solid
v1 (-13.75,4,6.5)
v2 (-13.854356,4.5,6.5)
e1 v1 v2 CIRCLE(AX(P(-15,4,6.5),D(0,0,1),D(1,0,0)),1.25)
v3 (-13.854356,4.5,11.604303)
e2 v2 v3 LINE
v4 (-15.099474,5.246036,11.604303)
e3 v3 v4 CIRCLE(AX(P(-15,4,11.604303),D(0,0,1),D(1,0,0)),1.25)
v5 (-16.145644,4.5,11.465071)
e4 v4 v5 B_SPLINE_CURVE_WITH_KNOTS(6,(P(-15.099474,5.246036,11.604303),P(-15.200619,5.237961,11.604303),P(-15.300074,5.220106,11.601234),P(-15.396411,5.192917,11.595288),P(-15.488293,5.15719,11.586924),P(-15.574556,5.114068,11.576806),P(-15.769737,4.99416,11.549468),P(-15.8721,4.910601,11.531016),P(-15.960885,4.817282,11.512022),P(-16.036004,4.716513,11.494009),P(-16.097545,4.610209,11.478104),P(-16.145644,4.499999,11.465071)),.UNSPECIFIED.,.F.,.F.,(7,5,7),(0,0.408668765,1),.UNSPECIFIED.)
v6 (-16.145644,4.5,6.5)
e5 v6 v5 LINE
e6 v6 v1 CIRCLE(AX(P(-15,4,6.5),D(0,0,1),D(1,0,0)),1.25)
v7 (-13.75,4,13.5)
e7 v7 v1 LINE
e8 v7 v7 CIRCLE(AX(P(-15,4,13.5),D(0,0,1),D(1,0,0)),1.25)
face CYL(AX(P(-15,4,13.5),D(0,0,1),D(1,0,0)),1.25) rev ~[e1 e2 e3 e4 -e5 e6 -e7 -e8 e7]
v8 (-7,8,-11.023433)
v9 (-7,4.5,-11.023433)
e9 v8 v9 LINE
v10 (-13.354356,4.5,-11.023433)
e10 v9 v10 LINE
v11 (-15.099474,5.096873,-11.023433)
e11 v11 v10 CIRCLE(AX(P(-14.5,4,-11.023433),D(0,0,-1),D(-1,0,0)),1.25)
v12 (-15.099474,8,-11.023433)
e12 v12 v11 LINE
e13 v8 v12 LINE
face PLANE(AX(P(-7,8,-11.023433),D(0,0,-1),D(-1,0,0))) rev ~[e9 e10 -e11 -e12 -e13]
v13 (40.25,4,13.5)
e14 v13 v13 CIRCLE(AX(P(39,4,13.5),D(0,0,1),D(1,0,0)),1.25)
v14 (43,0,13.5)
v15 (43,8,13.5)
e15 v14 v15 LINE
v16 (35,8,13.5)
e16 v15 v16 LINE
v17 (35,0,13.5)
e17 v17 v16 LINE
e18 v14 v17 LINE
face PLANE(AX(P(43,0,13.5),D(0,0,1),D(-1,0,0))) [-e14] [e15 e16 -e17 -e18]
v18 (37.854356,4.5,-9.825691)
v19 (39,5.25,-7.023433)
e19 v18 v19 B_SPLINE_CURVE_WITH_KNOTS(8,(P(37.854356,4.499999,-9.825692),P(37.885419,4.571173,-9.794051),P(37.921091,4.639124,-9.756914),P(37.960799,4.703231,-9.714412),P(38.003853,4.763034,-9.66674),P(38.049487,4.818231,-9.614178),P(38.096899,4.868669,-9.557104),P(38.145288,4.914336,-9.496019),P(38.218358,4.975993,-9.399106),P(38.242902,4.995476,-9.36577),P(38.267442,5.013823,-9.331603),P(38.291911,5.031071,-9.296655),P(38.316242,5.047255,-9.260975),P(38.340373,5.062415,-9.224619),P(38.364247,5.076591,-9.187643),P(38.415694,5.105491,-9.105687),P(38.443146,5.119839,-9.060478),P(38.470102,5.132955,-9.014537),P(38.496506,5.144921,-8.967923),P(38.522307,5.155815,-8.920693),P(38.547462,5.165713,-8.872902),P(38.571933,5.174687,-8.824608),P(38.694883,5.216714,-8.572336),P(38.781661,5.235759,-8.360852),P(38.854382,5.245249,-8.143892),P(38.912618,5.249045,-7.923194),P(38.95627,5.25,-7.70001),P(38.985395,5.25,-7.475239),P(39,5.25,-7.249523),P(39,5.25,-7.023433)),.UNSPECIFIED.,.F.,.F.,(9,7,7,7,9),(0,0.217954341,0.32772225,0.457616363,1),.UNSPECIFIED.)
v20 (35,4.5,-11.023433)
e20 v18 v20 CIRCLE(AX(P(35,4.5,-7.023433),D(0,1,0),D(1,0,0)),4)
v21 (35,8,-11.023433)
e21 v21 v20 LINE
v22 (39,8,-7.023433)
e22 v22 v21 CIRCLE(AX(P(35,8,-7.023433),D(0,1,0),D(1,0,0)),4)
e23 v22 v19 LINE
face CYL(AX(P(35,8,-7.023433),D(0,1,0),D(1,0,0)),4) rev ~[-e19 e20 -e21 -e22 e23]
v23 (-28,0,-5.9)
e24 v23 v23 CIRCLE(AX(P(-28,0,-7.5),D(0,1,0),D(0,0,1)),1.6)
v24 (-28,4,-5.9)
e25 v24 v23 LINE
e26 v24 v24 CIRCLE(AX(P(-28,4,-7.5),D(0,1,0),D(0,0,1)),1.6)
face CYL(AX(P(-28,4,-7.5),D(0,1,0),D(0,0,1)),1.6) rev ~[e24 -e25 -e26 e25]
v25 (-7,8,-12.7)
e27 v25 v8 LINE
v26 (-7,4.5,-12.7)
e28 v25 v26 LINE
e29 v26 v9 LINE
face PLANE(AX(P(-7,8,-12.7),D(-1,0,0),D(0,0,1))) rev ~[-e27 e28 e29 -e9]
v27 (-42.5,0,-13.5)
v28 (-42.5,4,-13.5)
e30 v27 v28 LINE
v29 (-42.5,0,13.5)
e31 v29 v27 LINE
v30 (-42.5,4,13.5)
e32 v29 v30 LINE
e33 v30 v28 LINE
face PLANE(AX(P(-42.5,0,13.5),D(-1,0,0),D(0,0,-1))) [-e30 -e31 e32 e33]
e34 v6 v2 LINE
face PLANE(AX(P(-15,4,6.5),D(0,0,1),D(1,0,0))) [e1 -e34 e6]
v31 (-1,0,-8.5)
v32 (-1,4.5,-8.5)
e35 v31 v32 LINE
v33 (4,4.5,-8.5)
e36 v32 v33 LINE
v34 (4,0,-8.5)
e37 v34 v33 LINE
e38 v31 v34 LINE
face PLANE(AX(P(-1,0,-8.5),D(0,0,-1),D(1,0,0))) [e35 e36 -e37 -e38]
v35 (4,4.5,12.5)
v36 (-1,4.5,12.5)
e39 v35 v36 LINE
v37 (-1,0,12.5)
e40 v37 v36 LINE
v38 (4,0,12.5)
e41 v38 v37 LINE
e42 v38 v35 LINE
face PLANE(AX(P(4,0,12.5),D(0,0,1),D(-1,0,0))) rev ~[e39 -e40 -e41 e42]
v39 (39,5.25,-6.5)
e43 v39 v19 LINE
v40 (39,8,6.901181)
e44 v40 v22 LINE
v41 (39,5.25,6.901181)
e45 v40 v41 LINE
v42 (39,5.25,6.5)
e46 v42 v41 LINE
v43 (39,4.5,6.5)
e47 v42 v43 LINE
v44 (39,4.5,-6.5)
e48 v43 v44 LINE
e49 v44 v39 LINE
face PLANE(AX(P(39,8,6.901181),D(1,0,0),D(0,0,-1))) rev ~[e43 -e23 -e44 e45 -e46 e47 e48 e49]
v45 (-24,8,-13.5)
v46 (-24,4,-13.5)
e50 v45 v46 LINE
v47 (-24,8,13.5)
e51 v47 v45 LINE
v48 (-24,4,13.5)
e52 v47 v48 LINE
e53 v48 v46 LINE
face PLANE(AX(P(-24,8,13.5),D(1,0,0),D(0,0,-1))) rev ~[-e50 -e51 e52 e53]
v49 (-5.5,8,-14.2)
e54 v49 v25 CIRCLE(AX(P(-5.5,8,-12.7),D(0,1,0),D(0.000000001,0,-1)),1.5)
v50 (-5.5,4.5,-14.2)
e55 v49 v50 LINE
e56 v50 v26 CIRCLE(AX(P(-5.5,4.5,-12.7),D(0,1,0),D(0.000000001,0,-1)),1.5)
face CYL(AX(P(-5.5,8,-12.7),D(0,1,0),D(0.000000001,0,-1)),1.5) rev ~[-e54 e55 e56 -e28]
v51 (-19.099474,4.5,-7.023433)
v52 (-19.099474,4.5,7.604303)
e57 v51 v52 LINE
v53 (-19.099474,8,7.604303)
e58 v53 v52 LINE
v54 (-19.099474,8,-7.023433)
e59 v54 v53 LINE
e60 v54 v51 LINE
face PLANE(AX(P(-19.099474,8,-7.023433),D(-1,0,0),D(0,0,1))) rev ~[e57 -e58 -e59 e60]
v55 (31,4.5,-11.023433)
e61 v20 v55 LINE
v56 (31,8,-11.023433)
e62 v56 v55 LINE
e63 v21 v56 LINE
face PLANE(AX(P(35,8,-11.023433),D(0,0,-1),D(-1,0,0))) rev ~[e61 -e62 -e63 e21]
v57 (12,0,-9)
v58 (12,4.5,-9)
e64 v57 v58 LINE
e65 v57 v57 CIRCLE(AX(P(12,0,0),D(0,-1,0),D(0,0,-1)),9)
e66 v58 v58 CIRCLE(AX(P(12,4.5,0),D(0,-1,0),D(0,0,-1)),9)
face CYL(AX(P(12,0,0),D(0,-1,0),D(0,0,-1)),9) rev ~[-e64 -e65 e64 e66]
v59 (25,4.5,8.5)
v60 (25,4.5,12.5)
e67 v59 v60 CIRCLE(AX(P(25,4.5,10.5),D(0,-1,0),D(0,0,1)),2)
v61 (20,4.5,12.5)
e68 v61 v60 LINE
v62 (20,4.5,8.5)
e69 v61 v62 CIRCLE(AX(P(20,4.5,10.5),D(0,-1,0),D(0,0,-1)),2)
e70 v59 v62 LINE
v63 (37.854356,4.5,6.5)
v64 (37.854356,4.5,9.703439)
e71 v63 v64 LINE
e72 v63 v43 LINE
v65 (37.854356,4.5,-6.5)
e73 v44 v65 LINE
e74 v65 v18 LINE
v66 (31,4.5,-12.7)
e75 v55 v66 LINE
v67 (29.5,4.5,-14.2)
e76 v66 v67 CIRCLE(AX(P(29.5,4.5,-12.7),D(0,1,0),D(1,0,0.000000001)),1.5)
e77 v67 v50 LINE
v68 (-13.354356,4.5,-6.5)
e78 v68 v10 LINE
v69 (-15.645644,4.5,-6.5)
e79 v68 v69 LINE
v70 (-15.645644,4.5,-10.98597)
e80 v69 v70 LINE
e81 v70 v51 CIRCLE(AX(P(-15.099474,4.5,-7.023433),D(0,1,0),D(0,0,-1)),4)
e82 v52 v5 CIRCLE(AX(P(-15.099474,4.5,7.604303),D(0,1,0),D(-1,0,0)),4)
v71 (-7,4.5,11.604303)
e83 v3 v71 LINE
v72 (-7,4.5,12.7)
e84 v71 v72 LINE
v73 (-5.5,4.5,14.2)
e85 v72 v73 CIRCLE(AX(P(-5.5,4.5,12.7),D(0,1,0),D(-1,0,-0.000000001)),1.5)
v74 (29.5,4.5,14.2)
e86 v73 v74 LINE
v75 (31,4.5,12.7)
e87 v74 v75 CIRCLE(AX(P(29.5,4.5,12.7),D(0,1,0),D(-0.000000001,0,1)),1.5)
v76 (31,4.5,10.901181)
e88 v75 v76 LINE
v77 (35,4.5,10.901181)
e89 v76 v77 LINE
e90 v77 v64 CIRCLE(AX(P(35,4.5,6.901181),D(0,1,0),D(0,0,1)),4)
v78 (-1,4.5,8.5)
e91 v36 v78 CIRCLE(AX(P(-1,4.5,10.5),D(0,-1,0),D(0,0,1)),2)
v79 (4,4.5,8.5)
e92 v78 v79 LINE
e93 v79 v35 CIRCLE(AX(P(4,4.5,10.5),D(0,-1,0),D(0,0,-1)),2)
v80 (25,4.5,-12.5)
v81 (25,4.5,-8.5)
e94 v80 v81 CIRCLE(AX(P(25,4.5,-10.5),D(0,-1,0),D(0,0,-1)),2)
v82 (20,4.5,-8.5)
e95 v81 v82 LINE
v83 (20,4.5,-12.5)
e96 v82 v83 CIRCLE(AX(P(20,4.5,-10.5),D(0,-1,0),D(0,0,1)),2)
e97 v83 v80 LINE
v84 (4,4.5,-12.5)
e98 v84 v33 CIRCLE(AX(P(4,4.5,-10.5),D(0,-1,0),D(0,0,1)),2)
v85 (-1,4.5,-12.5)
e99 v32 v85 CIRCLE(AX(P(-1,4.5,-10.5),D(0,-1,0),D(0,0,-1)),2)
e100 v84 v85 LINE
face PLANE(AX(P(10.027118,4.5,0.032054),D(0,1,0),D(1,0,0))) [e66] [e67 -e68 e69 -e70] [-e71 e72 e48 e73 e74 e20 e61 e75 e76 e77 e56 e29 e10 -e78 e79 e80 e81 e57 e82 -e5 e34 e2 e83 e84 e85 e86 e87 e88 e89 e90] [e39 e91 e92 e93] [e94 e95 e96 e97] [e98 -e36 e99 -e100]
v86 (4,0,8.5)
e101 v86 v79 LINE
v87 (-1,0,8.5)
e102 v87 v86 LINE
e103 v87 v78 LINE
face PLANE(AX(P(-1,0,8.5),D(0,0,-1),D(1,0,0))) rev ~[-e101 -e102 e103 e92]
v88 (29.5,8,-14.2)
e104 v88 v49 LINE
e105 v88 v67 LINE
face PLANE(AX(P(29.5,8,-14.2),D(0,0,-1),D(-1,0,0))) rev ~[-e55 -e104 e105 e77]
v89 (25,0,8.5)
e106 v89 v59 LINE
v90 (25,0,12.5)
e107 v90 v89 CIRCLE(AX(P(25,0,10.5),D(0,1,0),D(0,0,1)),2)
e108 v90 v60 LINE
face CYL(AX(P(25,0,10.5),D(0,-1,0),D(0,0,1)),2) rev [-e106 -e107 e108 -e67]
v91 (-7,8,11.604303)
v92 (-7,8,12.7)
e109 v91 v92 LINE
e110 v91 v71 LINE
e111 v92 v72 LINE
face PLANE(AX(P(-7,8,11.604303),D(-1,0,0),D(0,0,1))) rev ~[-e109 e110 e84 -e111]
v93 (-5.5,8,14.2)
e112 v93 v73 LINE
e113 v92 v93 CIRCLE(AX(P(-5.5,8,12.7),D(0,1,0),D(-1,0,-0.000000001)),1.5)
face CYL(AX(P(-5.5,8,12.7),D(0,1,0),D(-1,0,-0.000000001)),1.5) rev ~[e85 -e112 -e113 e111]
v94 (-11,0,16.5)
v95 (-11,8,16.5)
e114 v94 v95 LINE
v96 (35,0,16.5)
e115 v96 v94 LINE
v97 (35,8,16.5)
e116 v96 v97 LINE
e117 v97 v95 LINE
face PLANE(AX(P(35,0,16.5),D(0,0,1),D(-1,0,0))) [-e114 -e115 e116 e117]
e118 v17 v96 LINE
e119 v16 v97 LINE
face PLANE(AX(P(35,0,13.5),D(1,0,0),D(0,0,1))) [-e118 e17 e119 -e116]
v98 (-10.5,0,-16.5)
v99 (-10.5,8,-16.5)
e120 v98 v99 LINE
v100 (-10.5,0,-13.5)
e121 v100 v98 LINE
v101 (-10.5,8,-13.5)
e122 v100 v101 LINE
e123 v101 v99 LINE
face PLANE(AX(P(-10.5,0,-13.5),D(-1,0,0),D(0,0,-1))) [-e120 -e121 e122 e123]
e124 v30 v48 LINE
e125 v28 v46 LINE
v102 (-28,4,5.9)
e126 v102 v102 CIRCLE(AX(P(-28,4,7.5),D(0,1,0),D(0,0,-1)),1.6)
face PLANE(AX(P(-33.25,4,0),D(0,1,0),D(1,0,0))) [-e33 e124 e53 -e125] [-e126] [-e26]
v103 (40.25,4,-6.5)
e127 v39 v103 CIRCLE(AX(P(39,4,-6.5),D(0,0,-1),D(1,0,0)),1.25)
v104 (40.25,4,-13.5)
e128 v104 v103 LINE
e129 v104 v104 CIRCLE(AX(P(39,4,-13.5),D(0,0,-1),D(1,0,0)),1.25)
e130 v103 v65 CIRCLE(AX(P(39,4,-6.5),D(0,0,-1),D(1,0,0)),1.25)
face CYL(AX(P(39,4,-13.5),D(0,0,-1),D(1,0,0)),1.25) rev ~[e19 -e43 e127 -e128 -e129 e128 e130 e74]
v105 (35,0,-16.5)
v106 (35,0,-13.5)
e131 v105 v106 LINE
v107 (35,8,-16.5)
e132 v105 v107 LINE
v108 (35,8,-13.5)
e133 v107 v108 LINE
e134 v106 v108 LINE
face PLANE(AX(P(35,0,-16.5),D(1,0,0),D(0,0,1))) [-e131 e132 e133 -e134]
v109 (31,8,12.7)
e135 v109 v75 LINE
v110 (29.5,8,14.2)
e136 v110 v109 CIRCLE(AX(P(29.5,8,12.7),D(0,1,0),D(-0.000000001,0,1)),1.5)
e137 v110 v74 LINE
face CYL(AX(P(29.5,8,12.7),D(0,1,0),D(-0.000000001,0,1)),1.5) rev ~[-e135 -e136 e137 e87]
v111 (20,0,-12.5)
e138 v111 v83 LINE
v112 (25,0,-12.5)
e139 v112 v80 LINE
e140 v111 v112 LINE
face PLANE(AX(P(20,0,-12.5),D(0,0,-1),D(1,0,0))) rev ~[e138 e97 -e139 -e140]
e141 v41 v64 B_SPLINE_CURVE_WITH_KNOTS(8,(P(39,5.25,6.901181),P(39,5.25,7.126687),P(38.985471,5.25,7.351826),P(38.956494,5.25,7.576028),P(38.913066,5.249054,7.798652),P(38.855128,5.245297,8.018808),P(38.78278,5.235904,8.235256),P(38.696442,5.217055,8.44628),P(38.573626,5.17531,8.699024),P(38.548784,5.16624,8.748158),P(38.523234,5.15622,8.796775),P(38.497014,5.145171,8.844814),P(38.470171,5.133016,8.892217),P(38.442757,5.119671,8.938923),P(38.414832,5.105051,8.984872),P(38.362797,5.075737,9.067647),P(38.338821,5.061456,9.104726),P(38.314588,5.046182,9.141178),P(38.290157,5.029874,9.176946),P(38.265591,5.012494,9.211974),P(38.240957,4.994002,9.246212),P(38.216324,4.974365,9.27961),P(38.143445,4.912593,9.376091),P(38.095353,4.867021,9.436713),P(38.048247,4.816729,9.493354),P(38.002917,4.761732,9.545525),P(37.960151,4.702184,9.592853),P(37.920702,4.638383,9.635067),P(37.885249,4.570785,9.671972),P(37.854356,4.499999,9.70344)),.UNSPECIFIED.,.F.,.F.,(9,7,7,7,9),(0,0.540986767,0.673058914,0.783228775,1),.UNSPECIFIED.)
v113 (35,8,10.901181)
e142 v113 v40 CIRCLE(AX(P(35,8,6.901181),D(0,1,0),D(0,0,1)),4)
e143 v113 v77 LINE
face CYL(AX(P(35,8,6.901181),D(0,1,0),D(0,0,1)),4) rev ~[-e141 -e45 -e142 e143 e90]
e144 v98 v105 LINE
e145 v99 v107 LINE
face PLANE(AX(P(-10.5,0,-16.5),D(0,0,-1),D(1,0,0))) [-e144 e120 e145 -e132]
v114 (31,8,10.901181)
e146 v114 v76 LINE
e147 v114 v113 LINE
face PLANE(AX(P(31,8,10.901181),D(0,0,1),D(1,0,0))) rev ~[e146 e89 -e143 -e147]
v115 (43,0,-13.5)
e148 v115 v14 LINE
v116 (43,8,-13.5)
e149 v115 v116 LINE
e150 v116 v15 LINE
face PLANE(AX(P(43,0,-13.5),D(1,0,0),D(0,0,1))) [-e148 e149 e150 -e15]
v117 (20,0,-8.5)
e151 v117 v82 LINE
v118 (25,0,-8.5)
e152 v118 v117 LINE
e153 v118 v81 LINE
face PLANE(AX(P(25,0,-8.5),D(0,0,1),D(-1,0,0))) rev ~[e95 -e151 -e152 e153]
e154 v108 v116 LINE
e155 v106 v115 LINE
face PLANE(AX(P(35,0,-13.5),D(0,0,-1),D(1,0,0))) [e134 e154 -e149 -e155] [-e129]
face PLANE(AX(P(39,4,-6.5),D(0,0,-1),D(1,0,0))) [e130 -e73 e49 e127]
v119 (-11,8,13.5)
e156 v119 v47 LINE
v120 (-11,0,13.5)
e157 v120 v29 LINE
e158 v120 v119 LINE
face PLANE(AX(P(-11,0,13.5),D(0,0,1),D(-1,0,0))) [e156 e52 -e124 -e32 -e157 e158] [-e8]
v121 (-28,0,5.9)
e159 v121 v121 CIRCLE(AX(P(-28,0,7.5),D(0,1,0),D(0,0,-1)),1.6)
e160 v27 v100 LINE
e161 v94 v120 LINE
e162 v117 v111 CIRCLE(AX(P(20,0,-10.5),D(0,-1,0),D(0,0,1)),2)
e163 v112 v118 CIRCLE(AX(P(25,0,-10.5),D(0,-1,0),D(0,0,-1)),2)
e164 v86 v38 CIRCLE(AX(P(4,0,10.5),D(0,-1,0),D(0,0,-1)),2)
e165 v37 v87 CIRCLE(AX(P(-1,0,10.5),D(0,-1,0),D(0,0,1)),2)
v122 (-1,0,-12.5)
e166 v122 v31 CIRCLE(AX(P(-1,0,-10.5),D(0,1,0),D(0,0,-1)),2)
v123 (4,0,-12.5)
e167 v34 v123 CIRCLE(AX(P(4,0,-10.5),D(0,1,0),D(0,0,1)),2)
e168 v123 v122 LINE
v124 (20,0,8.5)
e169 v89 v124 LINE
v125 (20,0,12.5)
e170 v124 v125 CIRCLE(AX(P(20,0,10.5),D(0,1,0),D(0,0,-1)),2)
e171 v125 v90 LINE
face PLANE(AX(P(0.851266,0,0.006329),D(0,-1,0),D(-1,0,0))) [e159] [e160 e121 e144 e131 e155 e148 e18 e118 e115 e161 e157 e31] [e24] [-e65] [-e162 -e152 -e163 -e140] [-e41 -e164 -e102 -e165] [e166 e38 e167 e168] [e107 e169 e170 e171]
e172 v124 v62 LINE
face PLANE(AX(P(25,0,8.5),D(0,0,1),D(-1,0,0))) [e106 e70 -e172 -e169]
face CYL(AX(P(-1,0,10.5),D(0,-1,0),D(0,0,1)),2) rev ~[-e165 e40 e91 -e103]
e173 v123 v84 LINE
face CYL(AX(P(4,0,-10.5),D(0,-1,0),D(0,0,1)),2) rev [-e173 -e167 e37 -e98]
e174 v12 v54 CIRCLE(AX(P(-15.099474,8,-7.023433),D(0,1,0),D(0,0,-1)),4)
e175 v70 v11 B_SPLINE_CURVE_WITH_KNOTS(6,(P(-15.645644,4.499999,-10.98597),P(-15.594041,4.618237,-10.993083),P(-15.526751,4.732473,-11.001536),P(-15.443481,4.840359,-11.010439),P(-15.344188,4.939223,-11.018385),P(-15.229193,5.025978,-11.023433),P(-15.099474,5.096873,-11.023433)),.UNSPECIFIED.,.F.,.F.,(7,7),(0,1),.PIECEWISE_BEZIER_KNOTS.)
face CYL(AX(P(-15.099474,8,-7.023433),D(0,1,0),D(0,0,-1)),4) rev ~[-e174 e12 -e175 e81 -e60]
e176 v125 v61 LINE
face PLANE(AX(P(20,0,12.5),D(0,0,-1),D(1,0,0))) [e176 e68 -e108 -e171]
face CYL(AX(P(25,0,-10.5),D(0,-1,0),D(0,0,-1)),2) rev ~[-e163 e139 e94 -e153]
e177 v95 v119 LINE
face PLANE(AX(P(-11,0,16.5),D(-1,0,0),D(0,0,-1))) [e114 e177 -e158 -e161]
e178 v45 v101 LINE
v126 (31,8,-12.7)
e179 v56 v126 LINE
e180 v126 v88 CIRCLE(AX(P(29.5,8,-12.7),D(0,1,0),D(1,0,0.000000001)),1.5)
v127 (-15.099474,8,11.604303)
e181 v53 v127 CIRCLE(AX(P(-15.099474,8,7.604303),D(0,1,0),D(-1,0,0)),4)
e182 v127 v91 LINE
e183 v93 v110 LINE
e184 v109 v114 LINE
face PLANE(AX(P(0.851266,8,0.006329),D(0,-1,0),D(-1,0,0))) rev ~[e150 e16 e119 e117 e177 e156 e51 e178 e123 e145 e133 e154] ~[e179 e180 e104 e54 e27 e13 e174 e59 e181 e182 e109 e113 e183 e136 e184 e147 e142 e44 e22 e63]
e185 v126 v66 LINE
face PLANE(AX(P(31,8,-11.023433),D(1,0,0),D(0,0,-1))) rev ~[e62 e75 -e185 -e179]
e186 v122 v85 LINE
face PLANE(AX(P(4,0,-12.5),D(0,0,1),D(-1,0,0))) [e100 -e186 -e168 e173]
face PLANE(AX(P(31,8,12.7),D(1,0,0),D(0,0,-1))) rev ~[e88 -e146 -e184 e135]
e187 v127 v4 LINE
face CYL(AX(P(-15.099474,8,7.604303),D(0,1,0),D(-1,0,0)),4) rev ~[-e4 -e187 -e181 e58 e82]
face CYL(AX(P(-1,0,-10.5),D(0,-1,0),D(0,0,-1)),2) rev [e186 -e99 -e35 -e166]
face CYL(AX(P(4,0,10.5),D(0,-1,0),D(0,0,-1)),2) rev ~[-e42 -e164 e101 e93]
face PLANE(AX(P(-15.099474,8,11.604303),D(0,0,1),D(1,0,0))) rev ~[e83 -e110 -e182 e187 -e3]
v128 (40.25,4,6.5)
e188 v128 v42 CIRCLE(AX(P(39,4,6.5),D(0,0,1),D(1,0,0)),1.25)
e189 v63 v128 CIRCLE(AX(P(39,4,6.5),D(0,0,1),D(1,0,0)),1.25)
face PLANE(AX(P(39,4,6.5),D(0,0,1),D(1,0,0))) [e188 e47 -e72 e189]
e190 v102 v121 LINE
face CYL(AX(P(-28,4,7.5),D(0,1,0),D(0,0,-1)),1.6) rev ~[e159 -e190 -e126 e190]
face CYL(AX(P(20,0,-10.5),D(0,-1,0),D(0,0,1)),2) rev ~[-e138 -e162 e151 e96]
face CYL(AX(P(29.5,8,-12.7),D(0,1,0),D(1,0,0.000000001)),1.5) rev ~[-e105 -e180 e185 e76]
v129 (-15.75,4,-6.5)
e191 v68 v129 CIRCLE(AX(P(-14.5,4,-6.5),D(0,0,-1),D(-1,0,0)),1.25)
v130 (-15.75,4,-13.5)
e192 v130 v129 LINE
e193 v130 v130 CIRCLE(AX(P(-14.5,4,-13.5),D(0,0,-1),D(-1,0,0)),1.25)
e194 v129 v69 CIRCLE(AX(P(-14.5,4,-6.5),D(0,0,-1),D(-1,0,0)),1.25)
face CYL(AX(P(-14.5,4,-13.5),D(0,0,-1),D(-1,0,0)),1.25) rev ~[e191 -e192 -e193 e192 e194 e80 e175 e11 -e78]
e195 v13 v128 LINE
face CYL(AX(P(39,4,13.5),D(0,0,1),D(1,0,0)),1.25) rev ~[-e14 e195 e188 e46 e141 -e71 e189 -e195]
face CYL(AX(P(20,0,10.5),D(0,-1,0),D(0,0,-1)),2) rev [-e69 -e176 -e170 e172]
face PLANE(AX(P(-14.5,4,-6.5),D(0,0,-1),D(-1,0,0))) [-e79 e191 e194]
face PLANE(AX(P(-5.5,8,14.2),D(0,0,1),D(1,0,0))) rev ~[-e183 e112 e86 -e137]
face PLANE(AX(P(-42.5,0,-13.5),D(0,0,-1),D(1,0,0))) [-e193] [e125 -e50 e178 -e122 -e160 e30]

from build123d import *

# Parameters (mm, degrees)
EXTRUDE_1_DEPTH      = 8
SKETCH_2_W           = 18.5
SKETCH_2_H           = 27
CUT_EXTRUDE_1_DEPTH  = 4
SKETCH_3_R           = 1.6
CUT_EXTRUDE_2_DEPTH  = 5
SKETCH_4_R           = 9
CUT_EXTRUDE_3_DEPTH  = 9
CUT_EXTRUDE_4_DEPTH  = 3.5
SKETCH_6_R           = 1.25
CUT_EXTRUDE_8_DEPTH  = 7
SKETCH_7_R           = 1.25
CUT_EXTRUDE_9_DEPTH  = 7
SKETCH_8_R           = 1.25
CUT_EXTRUDE_10_DEPTH = 7
SKETCH_9_R           = 1.25
CUT_EXTRUDE_11_DEPTH = 7


with BuildPart() as part:
    # Эскиз1 → Бобышка-Вытянуть1 (new body)
    with BuildSketch(Plane(origin=(0, 0, 0), x_dir=(1, 0, 0), z_dir=(0, 1, 0))):
        Polygon((43, 13.5), (43, -13.5), (35, -13.5), (35, -16.5), (-11, -16.5), (-11, -13.5), (-42.5, -13.5), (-42.5, 13.5), (-10.5, 13.5), (-10.5, 16.5), (35, 16.5), (35, 13.5), align=None)
    extrude(amount=EXTRUDE_1_DEPTH)

    # Эскиз2 → Вырез-Вытянуть1 (cut)
    with BuildSketch(Plane(origin=(0, 8, 0), x_dir=(1, 0, 0), z_dir=(0, 1, 0))):
        with Locations((-33.25, 0)):
            Rectangle(SKETCH_2_W, SKETCH_2_H)
    extrude(amount=-CUT_EXTRUDE_1_DEPTH, mode=Mode.SUBTRACT)

    # Эскиз3 → Вырез-Вытянуть2 (cut, through all)
    with BuildSketch(Plane(origin=(0, 4, 0), x_dir=(1, 0, 0), z_dir=(0, 1, 0))):
        with Locations(Location((-28, 7.5, 0), (0, 0, 270))):  # turned: the seam where the file's is
            Circle(SKETCH_3_R)
        with Locations(Location((-28, -7.5, 0), (0, 0, 90))):  # turned: the seam where the file's is
            Circle(SKETCH_3_R)
    extrude(amount=-CUT_EXTRUDE_2_DEPTH, mode=Mode.SUBTRACT)

    # Эскиз4 → Вырез-Вытянуть3 (cut, through all)
    with BuildSketch(Plane.XZ):
        with Locations(Location((12, 0, 0), (0, 0, 270))):  # turned: the seam where the file's is
            Circle(SKETCH_4_R)
        with BuildLine():
            Line((20, 12.5), (25, 12.5))
            ThreePointArc((25, 12.5), (27, 10.5), (25, 8.5))
            Line((25, 8.5), (20, 8.5))
            ThreePointArc((20, 8.5), (18, 10.5), (20, 12.5))
        make_face()
        with BuildLine():
            Line((4, 12.5), (-1, 12.5))
            ThreePointArc((-1, 12.5), (-3, 10.5), (-1, 8.5))
            Line((-1, 8.5), (4, 8.5))
            ThreePointArc((4, 8.5), (6, 10.5), (4, 12.5))
        make_face()
        with BuildLine():
            Line((20, -12.5), (25, -12.5))
            ThreePointArc((25, -12.5), (27, -10.5), (25, -8.5))
            Line((25, -8.5), (20, -8.5))
            ThreePointArc((20, -8.5), (18, -10.5), (20, -12.5))
        make_face()
        with BuildLine():
            Line((4, -12.5), (-1, -12.5))
            ThreePointArc((-1, -12.5), (-3, -10.5), (-1, -8.5))
            Line((-1, -8.5), (4, -8.5))
            ThreePointArc((4, -8.5), (6, -10.5), (4, -12.5))
        make_face()
    extrude(amount=-CUT_EXTRUDE_3_DEPTH, mode=Mode.SUBTRACT)

    # Эскиз5 → Вырез-Вытянуть4 (cut)
    with BuildSketch(Plane(origin=(0, 8, 0), x_dir=(1, 0, 0), z_dir=(0, 1, 0))):
        with BuildLine():
            Line((-19.099474061, 7.023433075), (-19.099474061, -7.604302917))
            ThreePointArc((-19.099474061, -7.604302917), (-17.927901185, -10.432730042), (-15.099474061, -11.604302917))
            Line((-15.099474061, -11.604302917), (-7, -11.604302917))
            Line((-7, -11.604302917), (-7, -12.7))
            ThreePointArc((-7, -12.7), (-6.560660172, -13.760660172), (-5.5, -14.2))
            Line((-5.5, -14.2), (29.5, -14.2))
            ThreePointArc((29.5, -14.2), (30.560660172, -13.760660172), (31, -12.7))
            Line((31, -12.7), (31, -10.901181177))
            Line((31, -10.901181177), (35, -10.901181177))
            ThreePointArc((35, -10.901181177), (37.828427125, -9.729608302), (39, -6.901181177))
            Line((39, -6.901181177), (39, 7.023433075))
            ThreePointArc((39, 7.023433075), (37.828427125, 9.8518602), (35, 11.023433075))
            Line((35, 11.023433075), (31, 11.023433075))
            Line((31, 11.023433075), (31, 12.7))
            ThreePointArc((31, 12.7), (30.560660172, 13.760660172), (29.5, 14.2))
            Line((29.5, 14.2), (-5.5, 14.2))
            ThreePointArc((-5.5, 14.2), (-6.560660172, 13.760660172), (-7, 12.7))
            Line((-7, 12.7), (-7, 11.023433075))
            Line((-7, 11.023433075), (-15.099474061, 11.023433075))
            ThreePointArc((-15.099474061, 11.023433075), (-17.927901185, 9.8518602), (-19.099474061, 7.023433075))
        make_face()
    extrude(amount=-CUT_EXTRUDE_4_DEPTH, mode=Mode.SUBTRACT)

    # Эскиз6 → Вырез-Вытянуть8 (cut)
    with BuildSketch(Plane.XY.offset(13.5)):
        with Locations((39, 4)):
            Circle(SKETCH_6_R)
    extrude(amount=-CUT_EXTRUDE_8_DEPTH, mode=Mode.SUBTRACT)

    # Эскиз7 → Вырез-Вытянуть9 (cut)
    with BuildSketch(Plane.XY.offset(13.5)):
        with Locations((-15, 4)):
            Circle(SKETCH_7_R)
    extrude(amount=-CUT_EXTRUDE_9_DEPTH, mode=Mode.SUBTRACT)

    # Эскиз8 → Вырез-Вытянуть10 (cut)
    with BuildSketch(Plane(origin=(0, 0, -13.5), x_dir=(-1, 0, 0), z_dir=(0, 0, -1))):
        with Locations(Location((-39, 4, 0), (0, 0, 180))):  # turned: the seam where the file's is
            Circle(SKETCH_8_R)
    extrude(amount=-CUT_EXTRUDE_10_DEPTH, mode=Mode.SUBTRACT)

    # Эскиз9 → Вырез-Вытянуть11 (cut)
    with BuildSketch(Plane(origin=(0, 0, -13.5), x_dir=(-1, 0, 0), z_dir=(0, 0, -1))):
        with Locations((14.5, 4)):
            Circle(SKETCH_9_R)
    extrude(amount=-CUT_EXTRUDE_11_DEPTH, mode=Mode.SUBTRACT)


solid = part.part
